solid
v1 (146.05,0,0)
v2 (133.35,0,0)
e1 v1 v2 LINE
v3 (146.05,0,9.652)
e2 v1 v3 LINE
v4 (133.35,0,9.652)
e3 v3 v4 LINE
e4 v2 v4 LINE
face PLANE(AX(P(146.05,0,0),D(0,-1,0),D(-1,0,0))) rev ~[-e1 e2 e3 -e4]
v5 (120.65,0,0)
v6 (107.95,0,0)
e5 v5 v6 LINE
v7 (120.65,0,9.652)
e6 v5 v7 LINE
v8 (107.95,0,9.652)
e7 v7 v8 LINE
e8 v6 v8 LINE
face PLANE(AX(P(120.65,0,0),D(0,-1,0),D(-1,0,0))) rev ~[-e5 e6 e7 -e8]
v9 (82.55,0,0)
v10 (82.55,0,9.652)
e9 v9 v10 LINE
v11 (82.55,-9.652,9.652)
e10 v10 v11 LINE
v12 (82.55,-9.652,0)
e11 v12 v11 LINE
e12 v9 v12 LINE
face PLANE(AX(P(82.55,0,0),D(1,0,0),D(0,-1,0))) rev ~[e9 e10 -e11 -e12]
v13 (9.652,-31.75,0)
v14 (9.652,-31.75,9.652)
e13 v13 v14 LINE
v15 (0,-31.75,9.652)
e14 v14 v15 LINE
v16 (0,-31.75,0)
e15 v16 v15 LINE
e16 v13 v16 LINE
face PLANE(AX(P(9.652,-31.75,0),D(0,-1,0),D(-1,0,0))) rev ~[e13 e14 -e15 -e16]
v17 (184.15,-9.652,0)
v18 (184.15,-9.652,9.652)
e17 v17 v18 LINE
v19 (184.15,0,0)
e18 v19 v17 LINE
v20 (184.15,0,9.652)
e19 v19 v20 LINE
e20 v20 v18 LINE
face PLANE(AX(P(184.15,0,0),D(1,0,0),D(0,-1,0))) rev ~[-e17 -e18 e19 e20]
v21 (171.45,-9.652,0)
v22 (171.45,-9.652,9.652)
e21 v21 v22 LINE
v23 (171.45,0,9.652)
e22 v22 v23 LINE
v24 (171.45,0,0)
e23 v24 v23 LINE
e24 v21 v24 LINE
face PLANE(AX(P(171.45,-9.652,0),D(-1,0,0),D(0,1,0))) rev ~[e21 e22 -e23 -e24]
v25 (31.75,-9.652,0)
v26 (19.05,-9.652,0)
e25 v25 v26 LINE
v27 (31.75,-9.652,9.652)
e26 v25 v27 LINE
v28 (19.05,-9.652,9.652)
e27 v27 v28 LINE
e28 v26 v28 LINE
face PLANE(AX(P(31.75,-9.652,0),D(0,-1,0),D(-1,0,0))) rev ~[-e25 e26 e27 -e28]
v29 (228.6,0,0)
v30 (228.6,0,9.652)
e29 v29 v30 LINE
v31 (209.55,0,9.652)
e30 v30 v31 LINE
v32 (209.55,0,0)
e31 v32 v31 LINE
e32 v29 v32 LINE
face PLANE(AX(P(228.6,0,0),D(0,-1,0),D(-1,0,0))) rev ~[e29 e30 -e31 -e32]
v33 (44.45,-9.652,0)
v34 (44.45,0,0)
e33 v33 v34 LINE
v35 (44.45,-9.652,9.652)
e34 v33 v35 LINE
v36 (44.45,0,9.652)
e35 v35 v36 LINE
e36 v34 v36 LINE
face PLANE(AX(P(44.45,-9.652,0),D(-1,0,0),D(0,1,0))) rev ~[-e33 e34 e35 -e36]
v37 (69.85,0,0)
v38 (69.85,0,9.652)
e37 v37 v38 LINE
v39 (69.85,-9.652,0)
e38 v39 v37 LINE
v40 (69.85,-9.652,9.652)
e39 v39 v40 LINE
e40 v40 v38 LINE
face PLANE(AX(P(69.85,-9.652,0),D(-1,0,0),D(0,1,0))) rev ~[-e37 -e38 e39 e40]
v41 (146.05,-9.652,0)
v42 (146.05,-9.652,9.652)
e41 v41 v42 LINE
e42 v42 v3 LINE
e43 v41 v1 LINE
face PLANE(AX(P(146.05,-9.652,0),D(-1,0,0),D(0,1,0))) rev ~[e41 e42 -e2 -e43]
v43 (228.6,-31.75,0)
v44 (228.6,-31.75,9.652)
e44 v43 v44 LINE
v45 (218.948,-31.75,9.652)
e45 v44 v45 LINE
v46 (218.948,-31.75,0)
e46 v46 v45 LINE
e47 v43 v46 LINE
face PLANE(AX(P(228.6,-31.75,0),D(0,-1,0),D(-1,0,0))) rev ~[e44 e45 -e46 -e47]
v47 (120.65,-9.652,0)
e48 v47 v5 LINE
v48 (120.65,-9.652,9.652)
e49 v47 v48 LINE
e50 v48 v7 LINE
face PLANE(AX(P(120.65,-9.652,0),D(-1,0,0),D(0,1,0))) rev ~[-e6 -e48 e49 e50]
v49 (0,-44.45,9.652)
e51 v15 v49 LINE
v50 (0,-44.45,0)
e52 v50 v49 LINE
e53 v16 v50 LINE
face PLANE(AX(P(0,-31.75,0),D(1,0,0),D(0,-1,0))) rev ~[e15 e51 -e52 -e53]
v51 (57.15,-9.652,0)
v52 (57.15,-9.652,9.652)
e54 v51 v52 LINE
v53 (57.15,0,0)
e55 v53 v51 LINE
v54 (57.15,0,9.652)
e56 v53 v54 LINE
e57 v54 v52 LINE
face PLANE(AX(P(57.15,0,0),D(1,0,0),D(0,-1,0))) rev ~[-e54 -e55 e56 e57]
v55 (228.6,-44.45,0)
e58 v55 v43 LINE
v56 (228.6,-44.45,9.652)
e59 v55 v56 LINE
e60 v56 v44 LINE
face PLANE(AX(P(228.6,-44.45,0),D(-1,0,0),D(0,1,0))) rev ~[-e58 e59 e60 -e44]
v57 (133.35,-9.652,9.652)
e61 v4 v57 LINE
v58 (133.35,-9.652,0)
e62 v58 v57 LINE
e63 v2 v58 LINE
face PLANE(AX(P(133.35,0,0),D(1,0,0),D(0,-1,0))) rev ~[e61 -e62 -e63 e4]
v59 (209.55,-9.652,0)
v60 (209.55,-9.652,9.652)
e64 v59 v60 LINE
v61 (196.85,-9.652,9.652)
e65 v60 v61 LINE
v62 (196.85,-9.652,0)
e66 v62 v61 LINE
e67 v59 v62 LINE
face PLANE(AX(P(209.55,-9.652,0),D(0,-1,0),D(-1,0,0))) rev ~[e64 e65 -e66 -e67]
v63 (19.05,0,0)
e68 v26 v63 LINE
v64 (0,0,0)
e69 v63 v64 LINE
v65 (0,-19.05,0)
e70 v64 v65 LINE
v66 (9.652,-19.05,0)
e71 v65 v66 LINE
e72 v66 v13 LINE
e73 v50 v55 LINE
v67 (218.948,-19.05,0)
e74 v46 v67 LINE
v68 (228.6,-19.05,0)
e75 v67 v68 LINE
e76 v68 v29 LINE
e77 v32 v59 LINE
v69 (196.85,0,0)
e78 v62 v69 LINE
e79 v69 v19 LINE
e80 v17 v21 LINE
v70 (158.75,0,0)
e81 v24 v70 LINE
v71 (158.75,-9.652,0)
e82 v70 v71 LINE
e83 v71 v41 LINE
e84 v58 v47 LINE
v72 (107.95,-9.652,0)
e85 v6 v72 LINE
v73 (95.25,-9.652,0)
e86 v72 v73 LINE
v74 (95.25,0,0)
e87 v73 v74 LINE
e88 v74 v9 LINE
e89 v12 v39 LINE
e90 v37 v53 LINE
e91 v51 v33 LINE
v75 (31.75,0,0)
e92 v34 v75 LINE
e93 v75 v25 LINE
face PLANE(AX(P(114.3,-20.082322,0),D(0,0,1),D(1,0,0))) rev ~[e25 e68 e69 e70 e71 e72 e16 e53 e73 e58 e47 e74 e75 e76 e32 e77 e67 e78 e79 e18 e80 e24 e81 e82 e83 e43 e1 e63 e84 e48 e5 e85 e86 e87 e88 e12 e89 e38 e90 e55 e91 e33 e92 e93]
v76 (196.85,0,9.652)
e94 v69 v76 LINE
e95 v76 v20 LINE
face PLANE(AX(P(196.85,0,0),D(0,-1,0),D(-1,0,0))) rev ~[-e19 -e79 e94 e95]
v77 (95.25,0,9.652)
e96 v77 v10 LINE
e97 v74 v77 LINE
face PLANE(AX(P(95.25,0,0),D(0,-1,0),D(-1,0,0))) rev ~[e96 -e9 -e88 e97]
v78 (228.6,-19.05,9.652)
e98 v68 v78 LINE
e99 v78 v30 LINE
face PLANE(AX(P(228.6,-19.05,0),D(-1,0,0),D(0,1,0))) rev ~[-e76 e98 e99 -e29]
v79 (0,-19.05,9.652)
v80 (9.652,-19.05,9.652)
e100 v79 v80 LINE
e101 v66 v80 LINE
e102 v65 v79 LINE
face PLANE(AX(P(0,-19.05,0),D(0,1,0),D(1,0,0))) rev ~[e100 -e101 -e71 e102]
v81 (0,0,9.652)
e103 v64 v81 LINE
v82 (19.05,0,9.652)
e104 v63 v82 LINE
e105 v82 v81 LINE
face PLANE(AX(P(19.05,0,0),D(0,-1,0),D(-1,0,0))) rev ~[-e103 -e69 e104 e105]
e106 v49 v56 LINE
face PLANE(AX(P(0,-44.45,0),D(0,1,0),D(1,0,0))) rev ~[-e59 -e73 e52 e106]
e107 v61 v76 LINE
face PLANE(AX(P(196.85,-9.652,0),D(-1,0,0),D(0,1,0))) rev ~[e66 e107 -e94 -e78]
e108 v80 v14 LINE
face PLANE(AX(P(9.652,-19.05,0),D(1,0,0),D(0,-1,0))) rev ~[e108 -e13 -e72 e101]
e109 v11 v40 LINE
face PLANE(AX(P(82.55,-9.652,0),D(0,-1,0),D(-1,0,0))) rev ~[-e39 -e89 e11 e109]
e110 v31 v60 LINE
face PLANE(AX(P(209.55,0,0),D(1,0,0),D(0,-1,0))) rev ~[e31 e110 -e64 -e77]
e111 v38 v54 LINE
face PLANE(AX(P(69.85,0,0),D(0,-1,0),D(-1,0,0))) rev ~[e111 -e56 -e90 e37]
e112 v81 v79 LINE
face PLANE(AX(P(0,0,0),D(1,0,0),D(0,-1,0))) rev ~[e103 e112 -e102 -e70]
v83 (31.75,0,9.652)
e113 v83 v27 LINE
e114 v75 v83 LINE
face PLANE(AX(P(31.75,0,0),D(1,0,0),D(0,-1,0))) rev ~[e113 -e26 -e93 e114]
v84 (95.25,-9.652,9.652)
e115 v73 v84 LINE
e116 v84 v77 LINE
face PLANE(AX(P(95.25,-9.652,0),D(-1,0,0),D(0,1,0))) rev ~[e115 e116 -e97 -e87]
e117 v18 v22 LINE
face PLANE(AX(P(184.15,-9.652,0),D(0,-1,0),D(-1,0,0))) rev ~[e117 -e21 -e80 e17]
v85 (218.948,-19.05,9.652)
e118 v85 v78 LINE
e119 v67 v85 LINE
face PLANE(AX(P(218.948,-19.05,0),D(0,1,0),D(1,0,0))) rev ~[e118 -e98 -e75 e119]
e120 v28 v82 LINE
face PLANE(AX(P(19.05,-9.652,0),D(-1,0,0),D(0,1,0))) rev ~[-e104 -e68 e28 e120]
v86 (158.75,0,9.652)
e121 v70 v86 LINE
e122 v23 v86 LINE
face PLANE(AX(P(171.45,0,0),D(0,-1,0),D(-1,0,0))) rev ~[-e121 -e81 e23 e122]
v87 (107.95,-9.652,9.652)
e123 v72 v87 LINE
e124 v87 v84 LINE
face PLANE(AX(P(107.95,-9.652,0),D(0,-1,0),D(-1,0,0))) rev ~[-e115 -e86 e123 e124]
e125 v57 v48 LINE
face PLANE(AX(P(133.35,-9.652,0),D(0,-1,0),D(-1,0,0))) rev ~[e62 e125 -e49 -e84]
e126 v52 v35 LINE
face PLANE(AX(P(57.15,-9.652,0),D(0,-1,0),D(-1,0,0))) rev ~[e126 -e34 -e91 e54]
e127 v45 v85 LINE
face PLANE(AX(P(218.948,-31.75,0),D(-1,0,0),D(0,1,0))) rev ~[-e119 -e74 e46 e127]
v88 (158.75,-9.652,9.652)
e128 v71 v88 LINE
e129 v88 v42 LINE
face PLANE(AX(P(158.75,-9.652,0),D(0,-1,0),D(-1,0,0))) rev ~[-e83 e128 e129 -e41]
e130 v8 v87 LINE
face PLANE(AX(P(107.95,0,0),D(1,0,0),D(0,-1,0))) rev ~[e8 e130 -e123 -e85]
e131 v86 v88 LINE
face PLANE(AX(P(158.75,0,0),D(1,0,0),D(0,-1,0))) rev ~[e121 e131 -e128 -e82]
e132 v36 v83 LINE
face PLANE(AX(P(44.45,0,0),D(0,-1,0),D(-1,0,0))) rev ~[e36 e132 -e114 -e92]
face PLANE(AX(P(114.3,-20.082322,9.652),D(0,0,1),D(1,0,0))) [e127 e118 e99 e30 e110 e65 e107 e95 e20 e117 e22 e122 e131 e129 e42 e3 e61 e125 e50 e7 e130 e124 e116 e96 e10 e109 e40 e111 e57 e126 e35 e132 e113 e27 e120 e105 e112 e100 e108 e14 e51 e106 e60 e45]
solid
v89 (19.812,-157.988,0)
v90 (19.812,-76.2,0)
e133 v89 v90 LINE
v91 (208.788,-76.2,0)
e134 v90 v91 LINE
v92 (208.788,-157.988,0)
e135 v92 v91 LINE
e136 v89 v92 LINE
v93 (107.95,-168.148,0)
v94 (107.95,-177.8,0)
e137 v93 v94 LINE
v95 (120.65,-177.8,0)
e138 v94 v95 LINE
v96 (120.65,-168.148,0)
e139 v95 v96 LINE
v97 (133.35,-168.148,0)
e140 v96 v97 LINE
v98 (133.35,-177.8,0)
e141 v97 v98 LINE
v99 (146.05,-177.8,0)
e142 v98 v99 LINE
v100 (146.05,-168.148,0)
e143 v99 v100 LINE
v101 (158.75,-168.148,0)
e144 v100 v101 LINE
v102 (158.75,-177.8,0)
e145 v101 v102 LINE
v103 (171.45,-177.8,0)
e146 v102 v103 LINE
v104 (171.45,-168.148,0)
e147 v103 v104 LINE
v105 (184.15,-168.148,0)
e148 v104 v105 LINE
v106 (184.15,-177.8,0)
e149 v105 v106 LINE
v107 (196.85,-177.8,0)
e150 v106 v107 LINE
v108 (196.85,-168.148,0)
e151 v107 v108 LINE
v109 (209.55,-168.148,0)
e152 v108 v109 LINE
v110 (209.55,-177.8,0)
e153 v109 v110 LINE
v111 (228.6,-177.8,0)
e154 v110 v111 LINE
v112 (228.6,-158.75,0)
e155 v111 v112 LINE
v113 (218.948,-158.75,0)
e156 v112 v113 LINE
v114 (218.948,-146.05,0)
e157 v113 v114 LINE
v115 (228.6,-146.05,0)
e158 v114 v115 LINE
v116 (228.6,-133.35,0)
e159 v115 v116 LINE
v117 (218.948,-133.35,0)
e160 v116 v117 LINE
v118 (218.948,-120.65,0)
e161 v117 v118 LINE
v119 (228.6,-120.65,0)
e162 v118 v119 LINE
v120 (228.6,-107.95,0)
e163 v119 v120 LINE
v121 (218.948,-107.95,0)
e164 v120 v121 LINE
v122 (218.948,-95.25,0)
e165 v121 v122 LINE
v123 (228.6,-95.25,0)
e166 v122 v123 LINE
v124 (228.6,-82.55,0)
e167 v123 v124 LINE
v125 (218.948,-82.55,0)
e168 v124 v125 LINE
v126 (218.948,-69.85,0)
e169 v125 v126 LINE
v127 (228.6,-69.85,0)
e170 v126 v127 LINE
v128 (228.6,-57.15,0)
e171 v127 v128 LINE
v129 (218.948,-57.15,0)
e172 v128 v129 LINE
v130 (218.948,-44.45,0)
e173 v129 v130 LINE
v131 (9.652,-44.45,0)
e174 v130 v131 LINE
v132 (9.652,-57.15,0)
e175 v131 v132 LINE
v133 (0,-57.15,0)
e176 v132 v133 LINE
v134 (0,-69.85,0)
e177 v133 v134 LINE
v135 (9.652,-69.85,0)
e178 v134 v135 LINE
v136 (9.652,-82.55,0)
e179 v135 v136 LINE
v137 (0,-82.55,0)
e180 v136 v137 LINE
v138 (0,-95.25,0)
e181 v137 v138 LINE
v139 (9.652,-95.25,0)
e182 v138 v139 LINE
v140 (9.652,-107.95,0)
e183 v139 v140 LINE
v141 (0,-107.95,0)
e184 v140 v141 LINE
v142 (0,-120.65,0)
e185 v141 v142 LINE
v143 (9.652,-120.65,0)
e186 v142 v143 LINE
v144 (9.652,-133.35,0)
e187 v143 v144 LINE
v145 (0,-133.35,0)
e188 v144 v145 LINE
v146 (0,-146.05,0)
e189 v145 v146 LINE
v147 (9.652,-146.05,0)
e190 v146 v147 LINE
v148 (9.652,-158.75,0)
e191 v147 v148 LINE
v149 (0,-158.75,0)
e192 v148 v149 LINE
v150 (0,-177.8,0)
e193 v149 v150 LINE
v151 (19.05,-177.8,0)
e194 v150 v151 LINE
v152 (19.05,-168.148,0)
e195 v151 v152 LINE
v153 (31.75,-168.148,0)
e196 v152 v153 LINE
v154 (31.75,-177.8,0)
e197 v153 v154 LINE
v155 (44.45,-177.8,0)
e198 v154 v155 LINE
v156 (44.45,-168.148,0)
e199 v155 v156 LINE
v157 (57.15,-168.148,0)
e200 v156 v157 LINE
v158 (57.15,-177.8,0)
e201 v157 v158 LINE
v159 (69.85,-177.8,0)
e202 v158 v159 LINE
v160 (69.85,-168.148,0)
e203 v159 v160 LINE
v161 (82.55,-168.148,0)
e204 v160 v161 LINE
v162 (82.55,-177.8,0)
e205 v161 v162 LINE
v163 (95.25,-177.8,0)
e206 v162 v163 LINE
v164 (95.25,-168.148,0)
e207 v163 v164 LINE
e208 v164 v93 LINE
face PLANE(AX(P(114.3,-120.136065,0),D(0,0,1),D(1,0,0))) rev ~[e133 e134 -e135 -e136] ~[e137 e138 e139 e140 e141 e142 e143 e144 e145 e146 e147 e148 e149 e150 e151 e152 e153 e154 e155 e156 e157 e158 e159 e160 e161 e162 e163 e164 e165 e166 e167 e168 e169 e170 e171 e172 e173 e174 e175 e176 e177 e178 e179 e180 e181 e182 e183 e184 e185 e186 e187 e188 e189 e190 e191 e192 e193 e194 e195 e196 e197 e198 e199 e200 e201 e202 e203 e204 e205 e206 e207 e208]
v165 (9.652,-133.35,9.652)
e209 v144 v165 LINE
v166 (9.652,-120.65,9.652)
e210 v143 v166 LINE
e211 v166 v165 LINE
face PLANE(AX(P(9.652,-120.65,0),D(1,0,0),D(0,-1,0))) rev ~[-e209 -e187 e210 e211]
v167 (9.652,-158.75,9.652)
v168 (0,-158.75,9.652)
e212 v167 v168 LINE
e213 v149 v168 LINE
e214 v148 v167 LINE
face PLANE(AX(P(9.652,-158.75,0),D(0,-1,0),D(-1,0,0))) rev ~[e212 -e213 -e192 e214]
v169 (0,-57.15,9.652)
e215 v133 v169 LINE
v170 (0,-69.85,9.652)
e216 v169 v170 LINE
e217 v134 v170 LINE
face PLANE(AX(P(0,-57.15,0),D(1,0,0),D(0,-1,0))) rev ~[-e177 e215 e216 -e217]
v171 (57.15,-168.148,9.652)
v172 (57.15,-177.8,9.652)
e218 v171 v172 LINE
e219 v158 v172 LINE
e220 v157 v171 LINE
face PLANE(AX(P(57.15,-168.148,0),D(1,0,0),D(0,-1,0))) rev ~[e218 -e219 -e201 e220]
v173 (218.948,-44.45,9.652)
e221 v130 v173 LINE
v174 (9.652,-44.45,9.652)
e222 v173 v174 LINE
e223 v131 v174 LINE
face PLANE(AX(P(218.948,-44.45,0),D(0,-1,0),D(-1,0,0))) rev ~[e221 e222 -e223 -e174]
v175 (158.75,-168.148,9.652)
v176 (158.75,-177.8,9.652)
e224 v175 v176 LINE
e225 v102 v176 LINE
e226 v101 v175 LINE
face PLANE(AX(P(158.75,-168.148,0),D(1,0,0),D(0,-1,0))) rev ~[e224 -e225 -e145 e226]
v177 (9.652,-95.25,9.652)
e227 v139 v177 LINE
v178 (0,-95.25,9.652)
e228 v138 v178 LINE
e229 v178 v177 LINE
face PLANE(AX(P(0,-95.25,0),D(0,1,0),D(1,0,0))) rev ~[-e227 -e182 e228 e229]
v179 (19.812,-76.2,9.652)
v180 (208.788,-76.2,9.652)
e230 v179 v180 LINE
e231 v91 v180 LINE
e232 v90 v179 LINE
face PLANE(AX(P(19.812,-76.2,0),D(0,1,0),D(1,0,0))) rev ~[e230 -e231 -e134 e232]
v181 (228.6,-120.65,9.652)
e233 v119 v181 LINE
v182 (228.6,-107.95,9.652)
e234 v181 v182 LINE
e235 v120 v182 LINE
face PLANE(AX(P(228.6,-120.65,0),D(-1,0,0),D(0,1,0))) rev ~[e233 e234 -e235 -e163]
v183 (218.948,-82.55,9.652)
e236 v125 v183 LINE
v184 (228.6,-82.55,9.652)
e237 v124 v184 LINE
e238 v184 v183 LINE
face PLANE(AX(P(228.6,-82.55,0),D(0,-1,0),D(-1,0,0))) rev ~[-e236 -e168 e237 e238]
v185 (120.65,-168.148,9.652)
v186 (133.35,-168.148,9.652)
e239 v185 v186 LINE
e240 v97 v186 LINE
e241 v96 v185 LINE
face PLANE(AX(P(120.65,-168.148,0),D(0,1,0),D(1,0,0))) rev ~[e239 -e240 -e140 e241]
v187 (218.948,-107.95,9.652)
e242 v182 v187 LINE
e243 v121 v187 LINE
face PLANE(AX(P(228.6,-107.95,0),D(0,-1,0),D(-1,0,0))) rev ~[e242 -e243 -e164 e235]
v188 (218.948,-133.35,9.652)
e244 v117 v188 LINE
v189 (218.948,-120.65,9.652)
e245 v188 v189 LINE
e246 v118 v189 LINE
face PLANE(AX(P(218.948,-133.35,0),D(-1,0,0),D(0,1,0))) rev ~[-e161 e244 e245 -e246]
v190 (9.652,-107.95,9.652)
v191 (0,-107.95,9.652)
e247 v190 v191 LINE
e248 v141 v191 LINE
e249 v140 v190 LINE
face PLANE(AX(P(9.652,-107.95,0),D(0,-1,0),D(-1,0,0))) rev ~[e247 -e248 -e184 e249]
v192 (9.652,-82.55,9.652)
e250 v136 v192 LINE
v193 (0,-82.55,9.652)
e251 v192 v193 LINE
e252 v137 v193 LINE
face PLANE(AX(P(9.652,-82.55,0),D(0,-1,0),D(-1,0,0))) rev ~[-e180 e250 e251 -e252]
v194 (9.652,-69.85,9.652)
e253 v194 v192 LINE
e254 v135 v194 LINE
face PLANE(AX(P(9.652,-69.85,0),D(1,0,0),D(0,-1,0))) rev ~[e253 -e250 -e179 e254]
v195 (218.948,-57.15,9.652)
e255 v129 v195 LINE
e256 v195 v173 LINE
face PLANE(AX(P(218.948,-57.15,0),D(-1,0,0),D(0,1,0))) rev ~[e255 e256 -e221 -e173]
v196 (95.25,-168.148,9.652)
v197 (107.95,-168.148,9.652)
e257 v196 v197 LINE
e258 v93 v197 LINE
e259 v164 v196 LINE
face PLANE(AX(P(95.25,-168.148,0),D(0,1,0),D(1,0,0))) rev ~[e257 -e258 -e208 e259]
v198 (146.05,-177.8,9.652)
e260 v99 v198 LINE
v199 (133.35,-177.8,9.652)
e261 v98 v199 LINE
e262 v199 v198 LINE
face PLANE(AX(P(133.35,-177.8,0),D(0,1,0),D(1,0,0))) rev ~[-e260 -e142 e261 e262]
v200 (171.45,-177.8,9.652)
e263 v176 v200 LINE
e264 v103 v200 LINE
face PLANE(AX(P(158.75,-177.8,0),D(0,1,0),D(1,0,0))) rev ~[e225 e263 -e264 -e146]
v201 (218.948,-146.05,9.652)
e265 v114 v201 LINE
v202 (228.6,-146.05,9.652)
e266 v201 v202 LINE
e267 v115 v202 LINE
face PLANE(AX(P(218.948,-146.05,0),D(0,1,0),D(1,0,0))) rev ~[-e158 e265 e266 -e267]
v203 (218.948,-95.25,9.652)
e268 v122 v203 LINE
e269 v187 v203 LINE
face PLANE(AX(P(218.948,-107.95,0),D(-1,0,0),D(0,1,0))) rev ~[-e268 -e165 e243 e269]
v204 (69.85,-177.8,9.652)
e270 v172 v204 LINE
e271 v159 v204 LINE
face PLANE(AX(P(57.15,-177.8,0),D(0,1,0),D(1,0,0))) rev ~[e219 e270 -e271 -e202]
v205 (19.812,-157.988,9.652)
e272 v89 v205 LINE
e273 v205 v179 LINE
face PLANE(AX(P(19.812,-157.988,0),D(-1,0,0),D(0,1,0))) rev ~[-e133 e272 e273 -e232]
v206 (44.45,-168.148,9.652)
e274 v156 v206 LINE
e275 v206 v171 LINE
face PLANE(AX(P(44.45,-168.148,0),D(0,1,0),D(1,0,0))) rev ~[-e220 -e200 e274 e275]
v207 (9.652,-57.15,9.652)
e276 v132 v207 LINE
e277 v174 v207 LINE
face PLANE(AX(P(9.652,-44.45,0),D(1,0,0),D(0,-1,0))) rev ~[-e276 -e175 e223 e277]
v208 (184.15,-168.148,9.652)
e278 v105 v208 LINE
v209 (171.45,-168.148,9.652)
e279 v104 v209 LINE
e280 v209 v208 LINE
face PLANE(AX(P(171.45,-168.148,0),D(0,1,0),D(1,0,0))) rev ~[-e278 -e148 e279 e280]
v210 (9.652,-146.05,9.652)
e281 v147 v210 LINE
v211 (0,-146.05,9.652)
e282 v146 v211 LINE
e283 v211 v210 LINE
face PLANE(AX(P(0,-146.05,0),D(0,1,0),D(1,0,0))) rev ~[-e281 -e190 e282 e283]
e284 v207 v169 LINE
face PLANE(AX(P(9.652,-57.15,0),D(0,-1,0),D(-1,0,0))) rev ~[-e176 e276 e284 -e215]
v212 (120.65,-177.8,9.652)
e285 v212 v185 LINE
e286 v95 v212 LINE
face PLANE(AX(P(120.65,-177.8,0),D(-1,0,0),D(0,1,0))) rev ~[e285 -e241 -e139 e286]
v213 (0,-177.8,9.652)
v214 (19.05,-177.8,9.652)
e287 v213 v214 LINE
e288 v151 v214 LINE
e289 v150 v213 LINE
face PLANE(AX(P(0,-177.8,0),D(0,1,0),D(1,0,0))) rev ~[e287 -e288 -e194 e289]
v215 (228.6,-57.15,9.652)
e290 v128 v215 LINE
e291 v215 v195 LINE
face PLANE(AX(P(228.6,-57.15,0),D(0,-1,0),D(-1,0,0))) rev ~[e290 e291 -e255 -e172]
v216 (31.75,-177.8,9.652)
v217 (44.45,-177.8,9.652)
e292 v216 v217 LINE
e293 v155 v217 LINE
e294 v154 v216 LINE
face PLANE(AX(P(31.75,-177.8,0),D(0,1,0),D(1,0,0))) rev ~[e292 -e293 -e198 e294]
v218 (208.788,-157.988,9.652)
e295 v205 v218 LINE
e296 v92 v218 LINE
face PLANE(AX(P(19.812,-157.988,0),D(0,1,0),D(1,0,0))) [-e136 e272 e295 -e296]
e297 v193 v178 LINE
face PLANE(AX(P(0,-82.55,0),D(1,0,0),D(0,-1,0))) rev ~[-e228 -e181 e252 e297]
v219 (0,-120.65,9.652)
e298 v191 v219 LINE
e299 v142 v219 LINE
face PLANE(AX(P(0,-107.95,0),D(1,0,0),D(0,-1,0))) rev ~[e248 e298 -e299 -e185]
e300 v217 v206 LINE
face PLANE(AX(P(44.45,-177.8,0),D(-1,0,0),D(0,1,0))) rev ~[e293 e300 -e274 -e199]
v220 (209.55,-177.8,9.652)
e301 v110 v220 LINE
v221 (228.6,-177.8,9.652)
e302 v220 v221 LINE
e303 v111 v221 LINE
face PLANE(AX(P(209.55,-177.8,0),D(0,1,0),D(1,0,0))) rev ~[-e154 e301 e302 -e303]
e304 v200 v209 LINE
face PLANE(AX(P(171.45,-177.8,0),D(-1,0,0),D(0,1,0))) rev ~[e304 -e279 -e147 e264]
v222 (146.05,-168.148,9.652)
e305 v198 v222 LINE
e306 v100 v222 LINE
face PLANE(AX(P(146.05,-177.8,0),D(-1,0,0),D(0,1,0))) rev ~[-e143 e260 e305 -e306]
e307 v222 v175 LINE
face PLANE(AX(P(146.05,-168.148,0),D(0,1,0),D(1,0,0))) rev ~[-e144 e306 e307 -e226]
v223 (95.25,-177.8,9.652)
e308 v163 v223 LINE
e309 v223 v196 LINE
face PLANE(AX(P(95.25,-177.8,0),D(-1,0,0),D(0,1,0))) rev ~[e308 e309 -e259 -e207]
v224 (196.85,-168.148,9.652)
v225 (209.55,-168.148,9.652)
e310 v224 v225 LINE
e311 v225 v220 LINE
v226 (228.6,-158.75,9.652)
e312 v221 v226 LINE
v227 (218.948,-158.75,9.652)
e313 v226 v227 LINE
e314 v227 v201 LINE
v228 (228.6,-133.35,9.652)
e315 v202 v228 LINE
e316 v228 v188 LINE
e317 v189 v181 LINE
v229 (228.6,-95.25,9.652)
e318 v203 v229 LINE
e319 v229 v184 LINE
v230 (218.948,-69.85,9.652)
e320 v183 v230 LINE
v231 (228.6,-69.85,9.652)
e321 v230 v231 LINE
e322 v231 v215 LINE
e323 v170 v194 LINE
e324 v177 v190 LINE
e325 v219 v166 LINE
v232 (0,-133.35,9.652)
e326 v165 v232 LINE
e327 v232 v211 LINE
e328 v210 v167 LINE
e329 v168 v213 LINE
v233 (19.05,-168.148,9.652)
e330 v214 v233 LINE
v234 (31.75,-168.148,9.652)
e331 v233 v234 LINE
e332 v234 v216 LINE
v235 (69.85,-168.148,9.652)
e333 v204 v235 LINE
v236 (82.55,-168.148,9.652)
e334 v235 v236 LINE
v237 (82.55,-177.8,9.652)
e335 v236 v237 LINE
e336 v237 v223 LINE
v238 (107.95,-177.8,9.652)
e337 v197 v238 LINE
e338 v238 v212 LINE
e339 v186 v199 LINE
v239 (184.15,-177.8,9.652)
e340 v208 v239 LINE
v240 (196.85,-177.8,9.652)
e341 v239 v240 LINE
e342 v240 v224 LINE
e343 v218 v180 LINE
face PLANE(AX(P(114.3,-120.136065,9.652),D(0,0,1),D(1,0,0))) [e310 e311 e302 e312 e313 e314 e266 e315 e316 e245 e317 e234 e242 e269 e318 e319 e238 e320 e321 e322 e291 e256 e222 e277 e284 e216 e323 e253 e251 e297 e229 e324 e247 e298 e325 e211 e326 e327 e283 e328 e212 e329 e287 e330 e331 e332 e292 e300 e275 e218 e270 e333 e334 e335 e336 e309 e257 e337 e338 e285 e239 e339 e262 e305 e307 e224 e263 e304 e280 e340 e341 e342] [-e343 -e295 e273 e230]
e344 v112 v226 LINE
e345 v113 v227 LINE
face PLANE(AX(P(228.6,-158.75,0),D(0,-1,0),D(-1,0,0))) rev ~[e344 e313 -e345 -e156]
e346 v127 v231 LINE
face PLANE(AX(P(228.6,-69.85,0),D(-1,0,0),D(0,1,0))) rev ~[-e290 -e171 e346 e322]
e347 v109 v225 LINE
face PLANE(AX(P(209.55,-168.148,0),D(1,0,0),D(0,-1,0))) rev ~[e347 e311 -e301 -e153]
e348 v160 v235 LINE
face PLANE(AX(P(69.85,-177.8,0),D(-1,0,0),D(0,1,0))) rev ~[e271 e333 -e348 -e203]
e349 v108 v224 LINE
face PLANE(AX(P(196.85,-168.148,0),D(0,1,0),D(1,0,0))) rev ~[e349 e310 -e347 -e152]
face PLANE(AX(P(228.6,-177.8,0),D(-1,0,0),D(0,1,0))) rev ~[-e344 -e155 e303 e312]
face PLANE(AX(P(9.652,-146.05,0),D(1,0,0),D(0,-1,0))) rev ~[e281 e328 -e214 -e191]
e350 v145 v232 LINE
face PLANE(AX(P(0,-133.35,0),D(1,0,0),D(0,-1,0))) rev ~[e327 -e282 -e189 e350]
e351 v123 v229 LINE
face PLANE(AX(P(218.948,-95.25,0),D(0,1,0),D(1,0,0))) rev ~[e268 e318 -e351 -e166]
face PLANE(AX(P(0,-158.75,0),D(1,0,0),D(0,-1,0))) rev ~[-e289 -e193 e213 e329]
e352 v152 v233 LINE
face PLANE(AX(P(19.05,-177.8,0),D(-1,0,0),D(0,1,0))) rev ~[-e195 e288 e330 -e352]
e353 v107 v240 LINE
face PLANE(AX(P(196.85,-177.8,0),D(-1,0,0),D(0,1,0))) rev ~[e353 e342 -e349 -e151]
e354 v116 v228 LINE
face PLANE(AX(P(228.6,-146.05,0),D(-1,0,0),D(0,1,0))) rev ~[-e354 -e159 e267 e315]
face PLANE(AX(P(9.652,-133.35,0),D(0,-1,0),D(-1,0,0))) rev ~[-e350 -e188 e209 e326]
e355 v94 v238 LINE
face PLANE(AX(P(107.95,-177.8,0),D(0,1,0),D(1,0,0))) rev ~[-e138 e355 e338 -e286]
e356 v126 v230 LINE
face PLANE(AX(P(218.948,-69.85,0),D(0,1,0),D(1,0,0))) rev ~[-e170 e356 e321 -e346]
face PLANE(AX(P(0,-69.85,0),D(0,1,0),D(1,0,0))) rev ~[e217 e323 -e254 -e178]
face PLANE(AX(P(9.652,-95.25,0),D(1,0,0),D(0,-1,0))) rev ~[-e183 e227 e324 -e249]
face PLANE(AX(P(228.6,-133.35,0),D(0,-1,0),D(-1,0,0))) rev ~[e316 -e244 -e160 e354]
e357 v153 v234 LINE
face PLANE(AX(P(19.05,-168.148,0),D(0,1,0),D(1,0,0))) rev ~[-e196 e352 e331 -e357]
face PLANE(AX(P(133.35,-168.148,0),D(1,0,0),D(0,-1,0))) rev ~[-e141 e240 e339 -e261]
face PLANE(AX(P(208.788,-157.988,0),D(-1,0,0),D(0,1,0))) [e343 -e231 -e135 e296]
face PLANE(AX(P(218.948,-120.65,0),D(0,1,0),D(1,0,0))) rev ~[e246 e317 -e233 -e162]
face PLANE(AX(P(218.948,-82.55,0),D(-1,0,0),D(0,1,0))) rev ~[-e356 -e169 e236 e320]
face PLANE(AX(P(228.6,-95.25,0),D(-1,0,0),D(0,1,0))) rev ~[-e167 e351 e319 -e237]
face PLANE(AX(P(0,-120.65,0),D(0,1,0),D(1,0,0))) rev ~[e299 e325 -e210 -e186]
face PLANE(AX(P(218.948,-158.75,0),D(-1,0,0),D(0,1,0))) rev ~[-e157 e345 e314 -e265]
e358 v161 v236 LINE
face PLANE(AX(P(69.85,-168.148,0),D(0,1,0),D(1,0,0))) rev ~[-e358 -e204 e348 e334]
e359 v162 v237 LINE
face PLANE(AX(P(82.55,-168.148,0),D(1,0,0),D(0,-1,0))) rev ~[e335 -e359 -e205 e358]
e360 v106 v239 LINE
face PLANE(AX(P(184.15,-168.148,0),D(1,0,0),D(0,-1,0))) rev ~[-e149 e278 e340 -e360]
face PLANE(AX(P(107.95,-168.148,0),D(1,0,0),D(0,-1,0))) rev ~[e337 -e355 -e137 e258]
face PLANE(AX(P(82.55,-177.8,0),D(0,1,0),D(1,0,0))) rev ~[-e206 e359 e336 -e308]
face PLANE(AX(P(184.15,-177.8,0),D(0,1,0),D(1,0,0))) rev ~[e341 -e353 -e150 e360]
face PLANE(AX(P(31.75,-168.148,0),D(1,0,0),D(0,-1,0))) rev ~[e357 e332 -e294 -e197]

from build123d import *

# Parameters (mm, degrees)
F1_DEPTH = 9.652
F0_W     = 188.976
F0_H     = 81.788
F2_DEPTH = 9.652


with BuildPart() as f1:
    # F0 (on Top) → F1 (new body)
    with BuildSketch(Plane.XY):
        Polygon((19.05, 0), (0, 0), (0, -19.05), (9.652, -19.05), (9.652, -31.75), (0, -31.75), (0, -44.45), (9.652, -44.45), (218.948, -44.45), (228.6, -44.45), (228.6, -31.75), (218.948, -31.75), (218.948, -19.05), (228.6, -19.05), (228.6, 0), (209.55, 0), (209.55, -9.652), (196.85, -9.652), (196.85, 0), (184.15, 0), (184.15, -9.652), (171.45, -9.652), (171.45, 0), (158.75, 0), (158.75, -9.652), (146.05, -9.652), (146.05, 0), (133.35, 0), (133.35, -9.652), (120.65, -9.652), (120.65, 0), (107.95, 0), (107.95, -9.652), (95.25, -9.652), (95.25, 0), (82.55, 0), (82.55, -9.652), (69.85, -9.652), (69.85, 0), (57.15, 0), (57.15, -9.652), (44.45, -9.652), (44.45, 0), (31.75, 0), (31.75, -9.652), (19.05, -9.652), align=None)
    extrude(amount=F1_DEPTH)


with BuildPart() as f2:
    # F0 (on Top) → F2 (new body)
    with BuildSketch(Plane.XY):
        Polygon((218.948, -44.45), (9.652, -44.45), (9.652, -57.15), (0, -57.15), (0, -69.85), (9.652, -69.85), (9.652, -82.55), (0, -82.55), (0, -95.25), (9.652, -95.25), (9.652, -107.95), (0, -107.95), (0, -120.65), (9.652, -120.65), (9.652, -133.35), (0, -133.35), (0, -146.05), (9.652, -146.05), (9.652, -158.75), (0, -158.75), (0, -177.8), (19.05, -177.8), (19.05, -168.148), (31.75, -168.148), (31.75, -177.8), (44.45, -177.8), (44.45, -168.148), (57.15, -168.148), (57.15, -177.8), (69.85, -177.8), (69.85, -168.148), (82.55, -168.148), (82.55, -177.8), (95.25, -177.8), (95.25, -168.148), (107.95, -168.148), (107.95, -177.8), (120.65, -177.8), (120.65, -168.148), (133.35, -168.148), (133.35, -177.8), (146.05, -177.8), (146.05, -168.148), (158.75, -168.148), (158.75, -177.8), (171.45, -177.8), (171.45, -168.148), (184.15, -168.148), (184.15, -177.8), (196.85, -177.8), (196.85, -168.148), (209.55, -168.148), (209.55, -177.8), (228.6, -177.8), (228.6, -158.75), (218.948, -158.75), (218.948, -146.05), (228.6, -146.05), (228.6, -133.35), (218.948, -133.35), (218.948, -120.65), (228.6, -120.65), (228.6, -107.95), (218.948, -107.95), (218.948, -95.25), (228.6, -95.25), (228.6, -82.55), (218.948, -82.55), (218.948, -69.85), (228.6, -69.85), (228.6, -57.15), (218.948, -57.15), align=None)
        with Locations((114.3, -117.094)):
            Rectangle(F0_W, F0_H, mode=Mode.SUBTRACT)
    extrude(amount=F2_DEPTH)


solid = Compound([f1.part, f2.part])
